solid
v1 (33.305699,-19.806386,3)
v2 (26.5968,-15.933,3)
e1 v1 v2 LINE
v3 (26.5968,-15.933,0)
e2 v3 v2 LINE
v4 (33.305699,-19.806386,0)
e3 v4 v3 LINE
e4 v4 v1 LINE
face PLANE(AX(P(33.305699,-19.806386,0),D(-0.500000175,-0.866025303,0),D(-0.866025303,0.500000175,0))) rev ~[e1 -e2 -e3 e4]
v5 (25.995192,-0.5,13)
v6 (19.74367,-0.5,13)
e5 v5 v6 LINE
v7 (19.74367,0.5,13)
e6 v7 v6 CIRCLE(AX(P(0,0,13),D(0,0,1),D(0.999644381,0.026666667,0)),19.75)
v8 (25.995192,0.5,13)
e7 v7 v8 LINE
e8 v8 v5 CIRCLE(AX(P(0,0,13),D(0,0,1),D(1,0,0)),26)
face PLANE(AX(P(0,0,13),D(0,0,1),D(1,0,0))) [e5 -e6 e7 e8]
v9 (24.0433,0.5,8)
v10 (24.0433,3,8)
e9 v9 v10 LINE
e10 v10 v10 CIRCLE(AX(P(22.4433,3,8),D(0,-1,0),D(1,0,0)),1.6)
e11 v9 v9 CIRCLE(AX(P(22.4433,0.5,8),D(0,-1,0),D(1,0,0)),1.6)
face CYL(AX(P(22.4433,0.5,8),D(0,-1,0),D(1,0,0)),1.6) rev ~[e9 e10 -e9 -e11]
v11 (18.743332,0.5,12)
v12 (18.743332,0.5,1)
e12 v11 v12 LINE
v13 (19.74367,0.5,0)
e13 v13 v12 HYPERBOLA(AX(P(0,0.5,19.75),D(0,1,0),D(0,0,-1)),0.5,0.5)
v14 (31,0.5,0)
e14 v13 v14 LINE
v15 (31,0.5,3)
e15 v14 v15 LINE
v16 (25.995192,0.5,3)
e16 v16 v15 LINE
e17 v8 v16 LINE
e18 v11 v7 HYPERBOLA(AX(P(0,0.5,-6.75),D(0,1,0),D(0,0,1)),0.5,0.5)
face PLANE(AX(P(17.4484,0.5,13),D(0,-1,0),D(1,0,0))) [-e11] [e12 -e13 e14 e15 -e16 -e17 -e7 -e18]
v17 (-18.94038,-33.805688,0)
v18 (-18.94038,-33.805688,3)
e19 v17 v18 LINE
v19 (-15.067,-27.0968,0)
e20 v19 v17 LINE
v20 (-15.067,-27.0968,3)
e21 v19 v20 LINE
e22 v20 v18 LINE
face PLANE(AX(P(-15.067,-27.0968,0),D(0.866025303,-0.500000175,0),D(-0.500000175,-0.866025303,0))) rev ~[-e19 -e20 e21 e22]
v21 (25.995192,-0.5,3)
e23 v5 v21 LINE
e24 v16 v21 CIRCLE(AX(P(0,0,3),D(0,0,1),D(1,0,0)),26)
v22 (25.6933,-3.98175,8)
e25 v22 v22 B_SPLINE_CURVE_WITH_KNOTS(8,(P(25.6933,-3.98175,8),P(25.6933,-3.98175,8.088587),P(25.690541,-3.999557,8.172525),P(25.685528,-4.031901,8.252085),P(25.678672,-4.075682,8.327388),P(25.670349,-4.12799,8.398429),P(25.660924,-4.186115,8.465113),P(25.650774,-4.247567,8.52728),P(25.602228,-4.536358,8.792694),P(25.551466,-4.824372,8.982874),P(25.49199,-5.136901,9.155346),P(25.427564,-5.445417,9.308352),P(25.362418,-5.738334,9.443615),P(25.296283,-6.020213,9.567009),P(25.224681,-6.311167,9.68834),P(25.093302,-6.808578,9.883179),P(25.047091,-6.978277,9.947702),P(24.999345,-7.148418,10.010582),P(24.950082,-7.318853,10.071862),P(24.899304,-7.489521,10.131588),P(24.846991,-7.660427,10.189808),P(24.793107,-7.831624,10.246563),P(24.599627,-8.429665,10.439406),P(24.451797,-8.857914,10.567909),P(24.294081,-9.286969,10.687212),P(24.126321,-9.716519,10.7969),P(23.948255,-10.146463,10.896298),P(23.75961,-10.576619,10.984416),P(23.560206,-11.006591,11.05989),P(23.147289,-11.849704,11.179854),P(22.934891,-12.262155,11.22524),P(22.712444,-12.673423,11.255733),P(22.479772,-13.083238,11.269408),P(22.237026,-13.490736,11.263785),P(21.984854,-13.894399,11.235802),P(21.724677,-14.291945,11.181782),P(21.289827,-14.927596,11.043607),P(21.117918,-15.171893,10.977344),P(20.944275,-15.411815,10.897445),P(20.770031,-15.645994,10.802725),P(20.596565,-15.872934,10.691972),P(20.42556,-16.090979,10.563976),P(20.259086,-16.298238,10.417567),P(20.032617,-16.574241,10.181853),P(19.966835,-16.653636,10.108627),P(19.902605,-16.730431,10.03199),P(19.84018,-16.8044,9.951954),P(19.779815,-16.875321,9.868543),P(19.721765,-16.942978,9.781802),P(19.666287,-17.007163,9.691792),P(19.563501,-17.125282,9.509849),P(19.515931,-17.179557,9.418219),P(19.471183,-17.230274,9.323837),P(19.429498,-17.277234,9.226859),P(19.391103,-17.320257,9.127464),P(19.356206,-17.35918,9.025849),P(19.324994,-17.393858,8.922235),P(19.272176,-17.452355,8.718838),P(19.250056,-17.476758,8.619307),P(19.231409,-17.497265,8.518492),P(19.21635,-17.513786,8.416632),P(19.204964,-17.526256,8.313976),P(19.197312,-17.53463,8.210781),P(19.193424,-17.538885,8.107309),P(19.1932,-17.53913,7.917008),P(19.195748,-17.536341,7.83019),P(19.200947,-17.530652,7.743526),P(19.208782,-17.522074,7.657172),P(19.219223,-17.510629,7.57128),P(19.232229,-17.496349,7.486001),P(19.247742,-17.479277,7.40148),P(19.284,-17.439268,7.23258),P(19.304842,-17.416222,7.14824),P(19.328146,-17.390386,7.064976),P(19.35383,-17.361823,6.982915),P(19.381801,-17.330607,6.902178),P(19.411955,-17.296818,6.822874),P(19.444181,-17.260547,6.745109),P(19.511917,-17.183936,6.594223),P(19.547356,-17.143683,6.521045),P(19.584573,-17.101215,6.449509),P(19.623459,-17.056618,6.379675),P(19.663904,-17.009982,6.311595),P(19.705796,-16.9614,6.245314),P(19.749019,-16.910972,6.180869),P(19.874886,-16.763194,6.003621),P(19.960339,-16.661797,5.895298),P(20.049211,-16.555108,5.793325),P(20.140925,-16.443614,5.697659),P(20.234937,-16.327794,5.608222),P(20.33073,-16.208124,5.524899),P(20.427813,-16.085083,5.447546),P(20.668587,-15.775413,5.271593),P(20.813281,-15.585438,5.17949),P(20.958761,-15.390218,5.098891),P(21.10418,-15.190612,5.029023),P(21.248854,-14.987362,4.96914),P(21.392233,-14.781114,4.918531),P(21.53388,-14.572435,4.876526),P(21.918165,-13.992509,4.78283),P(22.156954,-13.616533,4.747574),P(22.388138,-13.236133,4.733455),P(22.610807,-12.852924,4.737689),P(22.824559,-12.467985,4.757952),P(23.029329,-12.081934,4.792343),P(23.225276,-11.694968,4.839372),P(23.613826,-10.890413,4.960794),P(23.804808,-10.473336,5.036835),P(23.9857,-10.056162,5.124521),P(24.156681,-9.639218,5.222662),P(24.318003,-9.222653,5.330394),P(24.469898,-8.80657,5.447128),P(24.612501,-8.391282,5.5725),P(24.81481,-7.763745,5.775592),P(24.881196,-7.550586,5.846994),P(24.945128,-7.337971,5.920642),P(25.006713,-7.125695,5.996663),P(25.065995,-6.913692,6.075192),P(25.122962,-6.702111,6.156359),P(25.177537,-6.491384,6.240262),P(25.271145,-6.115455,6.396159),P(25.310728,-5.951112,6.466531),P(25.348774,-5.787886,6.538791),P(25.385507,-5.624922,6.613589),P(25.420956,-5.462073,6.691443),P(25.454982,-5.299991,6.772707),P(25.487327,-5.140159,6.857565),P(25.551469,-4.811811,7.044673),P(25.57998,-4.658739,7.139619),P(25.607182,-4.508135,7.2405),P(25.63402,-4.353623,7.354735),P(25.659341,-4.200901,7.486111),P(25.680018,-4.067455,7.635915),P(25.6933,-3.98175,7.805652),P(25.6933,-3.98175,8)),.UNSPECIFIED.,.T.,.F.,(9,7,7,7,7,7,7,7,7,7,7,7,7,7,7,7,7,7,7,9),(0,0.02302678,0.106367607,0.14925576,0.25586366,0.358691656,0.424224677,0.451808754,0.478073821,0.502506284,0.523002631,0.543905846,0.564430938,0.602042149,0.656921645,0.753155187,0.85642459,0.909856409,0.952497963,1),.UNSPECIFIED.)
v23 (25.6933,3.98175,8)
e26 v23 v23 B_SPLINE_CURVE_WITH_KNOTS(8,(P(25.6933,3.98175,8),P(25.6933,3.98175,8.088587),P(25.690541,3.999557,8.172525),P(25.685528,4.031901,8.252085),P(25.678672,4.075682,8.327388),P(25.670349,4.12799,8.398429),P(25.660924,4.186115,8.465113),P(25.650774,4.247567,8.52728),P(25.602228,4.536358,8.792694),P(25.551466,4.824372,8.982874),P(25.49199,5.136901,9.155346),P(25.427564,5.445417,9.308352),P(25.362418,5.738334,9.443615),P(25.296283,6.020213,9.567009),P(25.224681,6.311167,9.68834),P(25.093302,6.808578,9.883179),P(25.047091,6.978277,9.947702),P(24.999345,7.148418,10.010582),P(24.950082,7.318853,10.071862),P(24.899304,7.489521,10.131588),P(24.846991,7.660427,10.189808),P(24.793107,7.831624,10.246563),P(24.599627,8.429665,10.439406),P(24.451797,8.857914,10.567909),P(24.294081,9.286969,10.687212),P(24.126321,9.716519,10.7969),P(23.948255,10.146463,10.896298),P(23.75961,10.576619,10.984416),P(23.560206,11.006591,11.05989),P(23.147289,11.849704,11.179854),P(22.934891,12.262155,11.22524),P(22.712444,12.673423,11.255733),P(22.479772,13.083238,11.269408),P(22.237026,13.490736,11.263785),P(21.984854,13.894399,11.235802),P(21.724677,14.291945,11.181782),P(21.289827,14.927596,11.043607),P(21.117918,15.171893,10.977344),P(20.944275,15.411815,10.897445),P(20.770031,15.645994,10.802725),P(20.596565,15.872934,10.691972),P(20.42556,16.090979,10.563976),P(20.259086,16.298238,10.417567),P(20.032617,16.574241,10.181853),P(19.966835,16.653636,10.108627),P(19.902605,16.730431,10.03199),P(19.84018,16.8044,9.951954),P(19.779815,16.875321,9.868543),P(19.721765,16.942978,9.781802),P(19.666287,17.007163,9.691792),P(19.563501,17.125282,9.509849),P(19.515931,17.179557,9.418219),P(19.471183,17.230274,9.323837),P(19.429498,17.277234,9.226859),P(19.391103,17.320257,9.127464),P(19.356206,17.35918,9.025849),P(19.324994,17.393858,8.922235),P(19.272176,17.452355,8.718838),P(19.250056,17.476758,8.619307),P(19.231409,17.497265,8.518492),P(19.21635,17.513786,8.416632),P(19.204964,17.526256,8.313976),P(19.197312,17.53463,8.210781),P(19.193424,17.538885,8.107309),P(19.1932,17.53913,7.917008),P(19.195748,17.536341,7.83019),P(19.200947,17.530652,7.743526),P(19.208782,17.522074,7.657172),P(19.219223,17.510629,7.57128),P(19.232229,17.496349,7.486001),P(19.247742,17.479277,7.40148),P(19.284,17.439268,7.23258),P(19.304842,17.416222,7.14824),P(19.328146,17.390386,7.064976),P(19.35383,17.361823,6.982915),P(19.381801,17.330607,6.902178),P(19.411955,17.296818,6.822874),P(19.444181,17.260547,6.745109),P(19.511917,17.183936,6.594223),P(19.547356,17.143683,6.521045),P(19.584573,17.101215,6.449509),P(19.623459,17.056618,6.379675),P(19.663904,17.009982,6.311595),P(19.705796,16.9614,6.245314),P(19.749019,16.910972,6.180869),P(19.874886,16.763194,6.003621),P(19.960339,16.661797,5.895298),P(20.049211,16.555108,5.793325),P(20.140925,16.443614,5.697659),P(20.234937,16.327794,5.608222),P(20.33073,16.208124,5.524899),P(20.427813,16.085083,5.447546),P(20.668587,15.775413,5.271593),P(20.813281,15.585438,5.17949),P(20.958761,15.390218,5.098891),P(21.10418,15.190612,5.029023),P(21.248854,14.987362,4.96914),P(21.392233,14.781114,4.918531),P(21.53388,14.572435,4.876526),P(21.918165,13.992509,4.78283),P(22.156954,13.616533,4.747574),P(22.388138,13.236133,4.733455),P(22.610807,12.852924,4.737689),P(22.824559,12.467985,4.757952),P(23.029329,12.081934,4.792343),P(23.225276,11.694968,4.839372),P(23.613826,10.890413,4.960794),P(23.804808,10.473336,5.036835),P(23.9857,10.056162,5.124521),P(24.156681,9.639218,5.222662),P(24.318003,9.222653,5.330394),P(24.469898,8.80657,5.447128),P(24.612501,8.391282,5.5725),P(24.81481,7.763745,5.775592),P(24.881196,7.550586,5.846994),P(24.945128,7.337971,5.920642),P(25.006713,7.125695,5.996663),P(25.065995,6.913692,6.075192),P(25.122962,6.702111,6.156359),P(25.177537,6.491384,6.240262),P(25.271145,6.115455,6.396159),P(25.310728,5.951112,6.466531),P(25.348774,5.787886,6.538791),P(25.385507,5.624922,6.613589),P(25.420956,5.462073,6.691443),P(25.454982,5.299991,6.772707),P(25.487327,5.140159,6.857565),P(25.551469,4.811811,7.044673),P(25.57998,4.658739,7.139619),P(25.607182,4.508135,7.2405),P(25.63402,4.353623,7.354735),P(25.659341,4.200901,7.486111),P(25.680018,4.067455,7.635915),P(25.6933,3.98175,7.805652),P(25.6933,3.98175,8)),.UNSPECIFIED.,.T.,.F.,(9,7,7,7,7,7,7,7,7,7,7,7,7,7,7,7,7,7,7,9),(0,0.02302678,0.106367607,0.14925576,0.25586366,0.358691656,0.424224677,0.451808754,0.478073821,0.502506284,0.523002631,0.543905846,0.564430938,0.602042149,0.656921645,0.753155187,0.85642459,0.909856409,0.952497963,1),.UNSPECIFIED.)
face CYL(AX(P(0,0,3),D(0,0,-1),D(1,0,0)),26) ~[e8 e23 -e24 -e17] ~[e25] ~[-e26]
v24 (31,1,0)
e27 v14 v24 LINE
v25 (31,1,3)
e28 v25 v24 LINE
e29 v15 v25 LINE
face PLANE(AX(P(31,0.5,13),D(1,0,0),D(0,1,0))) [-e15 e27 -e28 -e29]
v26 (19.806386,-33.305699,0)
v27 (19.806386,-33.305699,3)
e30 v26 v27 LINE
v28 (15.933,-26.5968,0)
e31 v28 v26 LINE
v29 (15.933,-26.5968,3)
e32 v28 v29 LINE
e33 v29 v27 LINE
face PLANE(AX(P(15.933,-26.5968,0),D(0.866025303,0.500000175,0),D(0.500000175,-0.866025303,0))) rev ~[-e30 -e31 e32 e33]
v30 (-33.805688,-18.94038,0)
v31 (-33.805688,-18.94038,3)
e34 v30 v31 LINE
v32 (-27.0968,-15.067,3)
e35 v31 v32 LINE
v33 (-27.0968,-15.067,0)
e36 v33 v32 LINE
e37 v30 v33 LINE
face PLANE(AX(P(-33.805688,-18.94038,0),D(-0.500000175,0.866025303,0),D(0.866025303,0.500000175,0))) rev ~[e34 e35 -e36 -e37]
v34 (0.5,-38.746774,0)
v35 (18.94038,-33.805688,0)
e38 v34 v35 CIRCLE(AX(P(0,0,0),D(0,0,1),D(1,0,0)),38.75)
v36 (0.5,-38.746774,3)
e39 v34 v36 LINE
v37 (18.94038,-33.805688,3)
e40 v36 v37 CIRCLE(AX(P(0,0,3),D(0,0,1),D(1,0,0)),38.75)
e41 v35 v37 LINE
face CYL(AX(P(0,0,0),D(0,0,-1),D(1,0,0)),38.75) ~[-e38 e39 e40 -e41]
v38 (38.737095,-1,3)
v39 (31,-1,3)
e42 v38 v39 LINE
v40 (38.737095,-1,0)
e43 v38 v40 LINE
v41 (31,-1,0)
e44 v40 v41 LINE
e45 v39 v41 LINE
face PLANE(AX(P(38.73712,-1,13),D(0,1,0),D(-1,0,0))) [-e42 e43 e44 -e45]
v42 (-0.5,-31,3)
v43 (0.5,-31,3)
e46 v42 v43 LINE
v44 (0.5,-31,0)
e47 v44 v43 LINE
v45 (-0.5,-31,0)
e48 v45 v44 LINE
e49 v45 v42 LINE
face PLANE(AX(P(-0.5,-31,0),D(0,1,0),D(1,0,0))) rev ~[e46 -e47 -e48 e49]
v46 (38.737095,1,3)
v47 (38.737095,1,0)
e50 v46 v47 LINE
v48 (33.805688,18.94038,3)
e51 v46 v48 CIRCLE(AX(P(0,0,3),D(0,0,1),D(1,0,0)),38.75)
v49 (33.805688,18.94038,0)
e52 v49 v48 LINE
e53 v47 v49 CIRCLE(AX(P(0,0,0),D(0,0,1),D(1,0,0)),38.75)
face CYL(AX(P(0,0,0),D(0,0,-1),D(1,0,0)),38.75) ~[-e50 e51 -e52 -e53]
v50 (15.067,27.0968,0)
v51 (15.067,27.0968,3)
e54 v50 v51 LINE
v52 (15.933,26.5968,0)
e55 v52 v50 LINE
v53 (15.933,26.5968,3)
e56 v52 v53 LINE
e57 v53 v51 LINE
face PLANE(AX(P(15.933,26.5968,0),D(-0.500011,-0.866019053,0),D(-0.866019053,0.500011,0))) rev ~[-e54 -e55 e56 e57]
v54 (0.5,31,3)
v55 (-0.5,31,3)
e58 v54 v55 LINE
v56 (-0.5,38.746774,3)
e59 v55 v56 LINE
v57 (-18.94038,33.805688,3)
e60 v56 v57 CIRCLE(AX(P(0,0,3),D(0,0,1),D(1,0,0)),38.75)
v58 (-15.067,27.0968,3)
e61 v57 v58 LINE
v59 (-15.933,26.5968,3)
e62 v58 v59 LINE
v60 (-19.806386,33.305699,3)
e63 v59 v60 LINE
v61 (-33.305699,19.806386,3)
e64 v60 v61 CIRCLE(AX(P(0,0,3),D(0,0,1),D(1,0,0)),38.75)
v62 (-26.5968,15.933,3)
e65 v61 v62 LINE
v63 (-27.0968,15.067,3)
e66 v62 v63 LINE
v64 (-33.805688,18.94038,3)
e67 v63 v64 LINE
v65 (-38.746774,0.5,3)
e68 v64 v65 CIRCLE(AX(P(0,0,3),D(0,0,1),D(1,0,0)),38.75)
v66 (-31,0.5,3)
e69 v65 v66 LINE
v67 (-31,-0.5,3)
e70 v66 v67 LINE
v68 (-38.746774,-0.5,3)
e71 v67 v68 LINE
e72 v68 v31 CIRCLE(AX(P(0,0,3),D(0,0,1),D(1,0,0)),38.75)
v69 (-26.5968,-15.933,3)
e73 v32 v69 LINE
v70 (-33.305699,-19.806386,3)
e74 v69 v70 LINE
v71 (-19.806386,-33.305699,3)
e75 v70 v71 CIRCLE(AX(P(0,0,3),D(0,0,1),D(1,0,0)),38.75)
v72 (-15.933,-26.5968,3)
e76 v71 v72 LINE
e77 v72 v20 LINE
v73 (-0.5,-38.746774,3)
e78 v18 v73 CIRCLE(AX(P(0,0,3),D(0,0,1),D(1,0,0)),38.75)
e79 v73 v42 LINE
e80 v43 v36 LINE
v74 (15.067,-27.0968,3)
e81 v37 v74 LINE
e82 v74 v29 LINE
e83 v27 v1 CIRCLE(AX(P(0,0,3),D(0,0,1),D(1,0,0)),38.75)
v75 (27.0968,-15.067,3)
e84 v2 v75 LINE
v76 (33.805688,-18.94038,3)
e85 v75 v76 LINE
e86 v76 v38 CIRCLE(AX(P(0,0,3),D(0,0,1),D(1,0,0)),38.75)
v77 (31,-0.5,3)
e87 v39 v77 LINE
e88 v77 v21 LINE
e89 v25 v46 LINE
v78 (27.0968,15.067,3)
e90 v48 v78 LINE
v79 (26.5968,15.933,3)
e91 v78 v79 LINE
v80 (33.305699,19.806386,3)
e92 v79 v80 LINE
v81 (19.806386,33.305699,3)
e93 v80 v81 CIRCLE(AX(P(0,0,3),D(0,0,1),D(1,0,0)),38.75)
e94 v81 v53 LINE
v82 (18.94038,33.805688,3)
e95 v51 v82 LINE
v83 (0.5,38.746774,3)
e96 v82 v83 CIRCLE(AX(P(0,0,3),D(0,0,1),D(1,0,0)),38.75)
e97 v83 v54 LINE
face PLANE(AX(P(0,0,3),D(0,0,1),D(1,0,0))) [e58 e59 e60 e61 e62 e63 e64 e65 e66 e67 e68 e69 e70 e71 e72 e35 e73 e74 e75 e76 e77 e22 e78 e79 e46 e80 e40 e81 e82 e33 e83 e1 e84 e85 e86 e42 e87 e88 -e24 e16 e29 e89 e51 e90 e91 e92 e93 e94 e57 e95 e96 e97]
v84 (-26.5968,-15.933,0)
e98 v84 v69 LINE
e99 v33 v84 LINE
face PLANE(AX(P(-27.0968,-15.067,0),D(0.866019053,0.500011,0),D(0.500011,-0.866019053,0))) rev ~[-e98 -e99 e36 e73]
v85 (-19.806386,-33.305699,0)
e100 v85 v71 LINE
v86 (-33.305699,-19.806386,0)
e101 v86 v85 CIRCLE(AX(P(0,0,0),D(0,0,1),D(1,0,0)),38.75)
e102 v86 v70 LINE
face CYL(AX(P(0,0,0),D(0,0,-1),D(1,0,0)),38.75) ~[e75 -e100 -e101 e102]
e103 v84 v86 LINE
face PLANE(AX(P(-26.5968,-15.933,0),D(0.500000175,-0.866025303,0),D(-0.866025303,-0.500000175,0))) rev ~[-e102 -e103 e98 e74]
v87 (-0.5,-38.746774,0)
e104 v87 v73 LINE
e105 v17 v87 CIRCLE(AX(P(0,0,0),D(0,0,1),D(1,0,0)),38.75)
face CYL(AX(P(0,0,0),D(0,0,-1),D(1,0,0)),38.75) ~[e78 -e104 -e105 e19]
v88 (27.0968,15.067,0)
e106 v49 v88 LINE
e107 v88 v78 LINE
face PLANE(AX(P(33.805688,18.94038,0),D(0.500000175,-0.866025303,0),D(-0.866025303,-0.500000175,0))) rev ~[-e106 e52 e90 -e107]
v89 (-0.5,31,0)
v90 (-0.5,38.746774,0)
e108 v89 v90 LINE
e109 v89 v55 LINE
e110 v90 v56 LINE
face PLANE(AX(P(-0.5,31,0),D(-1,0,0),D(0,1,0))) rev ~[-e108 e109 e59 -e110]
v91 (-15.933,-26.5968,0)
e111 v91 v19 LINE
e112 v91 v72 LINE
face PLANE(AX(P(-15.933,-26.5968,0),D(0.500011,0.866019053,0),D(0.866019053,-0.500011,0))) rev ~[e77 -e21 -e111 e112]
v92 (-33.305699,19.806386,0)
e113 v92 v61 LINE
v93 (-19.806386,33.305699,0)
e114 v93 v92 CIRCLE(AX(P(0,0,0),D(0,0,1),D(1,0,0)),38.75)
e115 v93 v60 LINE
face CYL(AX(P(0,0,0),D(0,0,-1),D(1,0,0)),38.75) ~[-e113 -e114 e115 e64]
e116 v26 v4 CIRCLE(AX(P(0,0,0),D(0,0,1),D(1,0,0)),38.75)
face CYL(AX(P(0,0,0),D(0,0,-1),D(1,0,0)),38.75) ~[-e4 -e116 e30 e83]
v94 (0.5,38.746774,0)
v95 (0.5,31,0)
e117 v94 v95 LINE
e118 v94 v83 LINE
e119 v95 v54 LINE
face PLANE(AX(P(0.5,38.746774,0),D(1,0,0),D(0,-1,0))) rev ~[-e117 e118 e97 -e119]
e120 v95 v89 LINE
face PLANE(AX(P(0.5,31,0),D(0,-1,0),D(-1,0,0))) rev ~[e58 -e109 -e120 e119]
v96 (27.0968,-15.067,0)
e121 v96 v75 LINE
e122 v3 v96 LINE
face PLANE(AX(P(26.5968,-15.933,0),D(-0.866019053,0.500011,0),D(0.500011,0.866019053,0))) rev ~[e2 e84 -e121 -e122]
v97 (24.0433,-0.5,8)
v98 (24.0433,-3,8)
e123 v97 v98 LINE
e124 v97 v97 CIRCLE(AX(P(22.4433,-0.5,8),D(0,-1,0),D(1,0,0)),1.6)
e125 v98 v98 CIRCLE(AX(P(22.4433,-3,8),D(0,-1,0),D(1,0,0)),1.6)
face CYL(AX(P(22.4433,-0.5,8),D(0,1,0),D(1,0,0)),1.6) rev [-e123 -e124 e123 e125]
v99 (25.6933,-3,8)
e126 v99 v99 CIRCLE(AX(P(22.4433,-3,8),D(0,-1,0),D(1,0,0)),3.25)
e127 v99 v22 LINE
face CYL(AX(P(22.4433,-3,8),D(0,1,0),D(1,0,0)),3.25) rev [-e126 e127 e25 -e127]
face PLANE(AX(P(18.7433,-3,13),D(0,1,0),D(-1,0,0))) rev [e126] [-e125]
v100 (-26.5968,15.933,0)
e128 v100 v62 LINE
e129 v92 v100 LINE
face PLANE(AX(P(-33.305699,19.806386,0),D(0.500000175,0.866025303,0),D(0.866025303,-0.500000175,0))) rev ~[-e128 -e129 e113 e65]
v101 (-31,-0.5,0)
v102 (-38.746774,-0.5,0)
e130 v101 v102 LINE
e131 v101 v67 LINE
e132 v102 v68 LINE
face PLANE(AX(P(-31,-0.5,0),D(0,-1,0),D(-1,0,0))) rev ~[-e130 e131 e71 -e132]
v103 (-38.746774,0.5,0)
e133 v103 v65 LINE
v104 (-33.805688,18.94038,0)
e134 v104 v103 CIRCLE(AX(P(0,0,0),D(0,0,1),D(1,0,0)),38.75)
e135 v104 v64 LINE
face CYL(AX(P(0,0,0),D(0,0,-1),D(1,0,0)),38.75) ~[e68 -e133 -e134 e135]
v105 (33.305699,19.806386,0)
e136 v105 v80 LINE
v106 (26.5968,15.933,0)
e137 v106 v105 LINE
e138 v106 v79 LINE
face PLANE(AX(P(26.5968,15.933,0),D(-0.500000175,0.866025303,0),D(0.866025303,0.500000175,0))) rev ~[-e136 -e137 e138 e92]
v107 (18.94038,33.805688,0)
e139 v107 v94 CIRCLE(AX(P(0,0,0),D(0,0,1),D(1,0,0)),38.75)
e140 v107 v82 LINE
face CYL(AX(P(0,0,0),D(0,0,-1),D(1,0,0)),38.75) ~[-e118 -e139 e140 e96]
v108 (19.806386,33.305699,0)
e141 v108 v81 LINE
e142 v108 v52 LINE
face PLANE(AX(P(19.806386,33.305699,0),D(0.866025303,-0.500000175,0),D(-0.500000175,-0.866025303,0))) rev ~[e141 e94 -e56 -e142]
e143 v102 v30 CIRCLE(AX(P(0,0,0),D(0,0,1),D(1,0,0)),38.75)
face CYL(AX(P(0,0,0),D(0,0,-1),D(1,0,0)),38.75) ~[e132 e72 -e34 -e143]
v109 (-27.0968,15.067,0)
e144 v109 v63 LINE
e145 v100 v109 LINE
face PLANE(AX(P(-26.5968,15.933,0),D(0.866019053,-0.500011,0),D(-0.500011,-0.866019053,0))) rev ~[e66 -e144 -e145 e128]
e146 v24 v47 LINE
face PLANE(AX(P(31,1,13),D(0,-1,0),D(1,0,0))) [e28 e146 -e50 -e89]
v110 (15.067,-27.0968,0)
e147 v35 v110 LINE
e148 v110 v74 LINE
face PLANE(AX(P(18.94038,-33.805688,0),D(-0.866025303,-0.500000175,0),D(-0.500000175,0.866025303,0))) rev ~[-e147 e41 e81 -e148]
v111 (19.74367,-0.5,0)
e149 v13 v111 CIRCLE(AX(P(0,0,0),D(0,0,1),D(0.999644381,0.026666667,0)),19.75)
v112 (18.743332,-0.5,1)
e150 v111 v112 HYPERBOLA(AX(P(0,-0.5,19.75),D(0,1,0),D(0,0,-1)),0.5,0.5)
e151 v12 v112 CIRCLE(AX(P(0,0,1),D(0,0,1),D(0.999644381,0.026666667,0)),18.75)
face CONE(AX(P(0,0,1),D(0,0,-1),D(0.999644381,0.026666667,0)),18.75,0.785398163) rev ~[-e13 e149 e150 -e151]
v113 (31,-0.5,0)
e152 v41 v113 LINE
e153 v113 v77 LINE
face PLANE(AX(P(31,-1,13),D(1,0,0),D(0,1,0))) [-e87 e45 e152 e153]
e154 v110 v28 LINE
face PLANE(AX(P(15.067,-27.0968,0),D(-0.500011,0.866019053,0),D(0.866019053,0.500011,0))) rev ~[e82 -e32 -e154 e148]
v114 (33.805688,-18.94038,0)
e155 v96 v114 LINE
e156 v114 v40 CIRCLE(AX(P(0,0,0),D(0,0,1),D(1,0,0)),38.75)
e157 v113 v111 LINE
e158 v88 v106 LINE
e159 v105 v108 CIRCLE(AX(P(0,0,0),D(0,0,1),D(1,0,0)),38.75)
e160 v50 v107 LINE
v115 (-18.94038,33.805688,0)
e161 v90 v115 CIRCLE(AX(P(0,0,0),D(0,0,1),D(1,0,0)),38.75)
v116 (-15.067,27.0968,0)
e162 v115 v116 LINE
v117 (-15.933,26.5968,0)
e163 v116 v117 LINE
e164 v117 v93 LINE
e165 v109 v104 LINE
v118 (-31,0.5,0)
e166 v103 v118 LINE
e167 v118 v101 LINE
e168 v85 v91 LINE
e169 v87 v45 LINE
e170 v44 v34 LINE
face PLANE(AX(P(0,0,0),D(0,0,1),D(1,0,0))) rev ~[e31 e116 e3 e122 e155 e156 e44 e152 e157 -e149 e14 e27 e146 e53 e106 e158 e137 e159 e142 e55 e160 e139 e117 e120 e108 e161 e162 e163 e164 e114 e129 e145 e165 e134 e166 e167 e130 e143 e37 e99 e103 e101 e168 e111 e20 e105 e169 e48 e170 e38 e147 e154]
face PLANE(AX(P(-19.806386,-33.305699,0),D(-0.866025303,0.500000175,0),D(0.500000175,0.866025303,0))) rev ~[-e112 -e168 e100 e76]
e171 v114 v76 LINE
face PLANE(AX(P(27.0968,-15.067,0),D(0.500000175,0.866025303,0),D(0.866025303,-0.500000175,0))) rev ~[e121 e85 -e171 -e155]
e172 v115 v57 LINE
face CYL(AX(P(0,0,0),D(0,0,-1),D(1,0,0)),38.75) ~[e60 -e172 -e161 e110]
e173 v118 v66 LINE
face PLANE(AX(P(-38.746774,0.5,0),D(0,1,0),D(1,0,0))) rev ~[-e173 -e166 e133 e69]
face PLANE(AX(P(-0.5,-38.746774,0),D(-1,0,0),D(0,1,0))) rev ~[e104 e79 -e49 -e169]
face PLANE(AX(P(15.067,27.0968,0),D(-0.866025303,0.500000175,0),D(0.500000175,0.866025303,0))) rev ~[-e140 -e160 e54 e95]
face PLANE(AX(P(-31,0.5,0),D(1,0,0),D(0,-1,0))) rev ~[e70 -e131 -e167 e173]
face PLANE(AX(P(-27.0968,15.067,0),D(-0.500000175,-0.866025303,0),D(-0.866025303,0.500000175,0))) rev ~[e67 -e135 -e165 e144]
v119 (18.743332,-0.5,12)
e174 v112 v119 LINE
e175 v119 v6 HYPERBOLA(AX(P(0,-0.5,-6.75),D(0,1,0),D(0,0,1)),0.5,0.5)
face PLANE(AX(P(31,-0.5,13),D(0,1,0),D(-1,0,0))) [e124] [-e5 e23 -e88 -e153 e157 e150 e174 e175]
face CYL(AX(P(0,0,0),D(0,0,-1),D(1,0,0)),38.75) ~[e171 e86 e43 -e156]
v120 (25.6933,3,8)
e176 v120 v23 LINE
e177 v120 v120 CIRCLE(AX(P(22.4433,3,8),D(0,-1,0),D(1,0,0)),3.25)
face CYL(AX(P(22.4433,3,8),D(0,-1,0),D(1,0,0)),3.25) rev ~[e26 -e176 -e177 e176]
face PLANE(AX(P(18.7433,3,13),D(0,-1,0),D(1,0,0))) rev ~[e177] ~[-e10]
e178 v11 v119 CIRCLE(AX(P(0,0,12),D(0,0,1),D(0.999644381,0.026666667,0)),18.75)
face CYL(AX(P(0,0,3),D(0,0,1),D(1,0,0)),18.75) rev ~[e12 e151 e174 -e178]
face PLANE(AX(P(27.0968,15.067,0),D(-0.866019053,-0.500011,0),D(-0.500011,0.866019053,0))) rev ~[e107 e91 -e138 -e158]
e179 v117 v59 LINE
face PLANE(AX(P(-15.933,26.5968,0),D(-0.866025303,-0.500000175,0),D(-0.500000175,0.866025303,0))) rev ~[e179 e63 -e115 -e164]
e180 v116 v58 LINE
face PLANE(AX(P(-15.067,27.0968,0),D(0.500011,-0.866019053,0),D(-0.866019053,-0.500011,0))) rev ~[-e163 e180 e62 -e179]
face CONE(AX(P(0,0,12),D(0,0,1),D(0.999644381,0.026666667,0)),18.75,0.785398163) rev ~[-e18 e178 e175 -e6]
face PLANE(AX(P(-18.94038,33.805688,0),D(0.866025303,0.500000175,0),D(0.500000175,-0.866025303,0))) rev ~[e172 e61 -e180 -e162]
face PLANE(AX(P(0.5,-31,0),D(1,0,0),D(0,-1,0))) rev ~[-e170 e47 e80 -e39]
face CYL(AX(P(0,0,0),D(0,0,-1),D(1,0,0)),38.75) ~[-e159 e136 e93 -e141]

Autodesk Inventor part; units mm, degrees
ref_plane "YZ Plane" through (0, 0, 0) normal (1, 0, 0) x (0, 1, 0)
ref_plane "XZ Plane" through (0, 0, 0) normal (0, 1, 0) x (-1, 0, 0)
sketch "Sketch1" plane through (0, 0, 0) normal (0, 0, 1) x (1, 0, 0)
  circle A0 centre (0, 0) radius 38.75
  line L0 (-0.5, 39) -> (0.5, 39)
  line L1 (0.5, 39) -> (0.5, 31)
  line L2 (0.5, 31) -> (-0.5, 31)
  line L3 (-0.5, 31) -> (-0.5, 39)
  line L4 (-15.933, 26.5968) -> (-19.933, 33.525)
  line L5 (-19.067, 34.025) -> (-15.067, 27.0968)
  line L6 (-15.067, 27.0968) -> (-15.933, 26.5968)
  line L7 (-19.933, 33.525) -> (-19.067, 34.025)
  line L8 (-27.0968, 15.067) -> (-34.025, 19.067)
  line L9 (-33.525, 19.933) -> (-26.5968, 15.933)
  line L10 (-26.5968, 15.933) -> (-27.0968, 15.067)
  line L11 (-34.025, 19.067) -> (-33.525, 19.933)
  line L12 (-31, -0.5) -> (-39, -0.5)
  line L13 (-39, 0.5) -> (-31, 0.5)
  line L14 (-31, 0.5) -> (-31, -0.5)
  line L15 (-39, -0.5) -> (-39, 0.5)
  line L16 (-26.5968, -15.933) -> (-33.525, -19.933)
  line L17 (-34.025, -19.067) -> (-27.0968, -15.067)
  line L18 (-27.0968, -15.067) -> (-26.5968, -15.933)
  line L19 (-33.525, -19.933) -> (-34.025, -19.067)
  line L20 (-15.067, -27.0968) -> (-19.067, -34.025)
  line L21 (-19.933, -33.525) -> (-15.933, -26.5968)
  line L22 (-15.933, -26.5968) -> (-15.067, -27.0968)
  line L23 (-19.067, -34.025) -> (-19.933, -33.525)
  line L24 (0.5, -31) -> (0.5, -39)
  line L25 (-0.5, -39) -> (-0.5, -31)
  line L26 (-0.5, -31) -> (0.5, -31)
  line L27 (0.5, -39) -> (-0.5, -39)
  line L28 (15.933, -26.5968) -> (19.933, -33.525)
  line L29 (19.067, -34.025) -> (15.067, -27.0968)
  line L30 (15.067, -27.0968) -> (15.933, -26.5968)
  line L31 (19.933, -33.525) -> (19.067, -34.025)
  line L32 (27.0968, -15.067) -> (34.025, -19.067)
  line L33 (33.525, -19.933) -> (26.5968, -15.933)
  line L34 (26.5968, -15.933) -> (27.0968, -15.067)
  line L35 (34.025, -19.067) -> (33.525, -19.933)
  line L36 (31, 0.5) -> (39, 0.5)
  line L37 (39, -0.5) -> (31, -0.5)
  line L38 (31, -0.5) -> (31, 0.5)
  line L39 (39, 0.5) -> (39, -0.5)
  line L40 (26.5968, 15.933) -> (33.525, 19.933)
  line L41 (34.025, 19.067) -> (27.0968, 15.067)
  line L42 (27.0968, 15.067) -> (26.5968, 15.933)
  line L43 (33.525, 19.933) -> (34.025, 19.067)
  line L44 (15.067, 27.0968) -> (19.067, 34.025)
  line L45 (19.933, 33.525) -> (15.933, 26.5968)
  line L46 (15.933, 26.5968) -> (15.067, 27.0968)
  line L47 (19.067, 34.025) -> (19.933, 33.525)
  point P0 (0, 31)
  point P1 (-0.5, 38.7468)
  point P2 (0.5, 38.7468)
  point P3 (-15.5, 26.8468)
  point P4 (-26.8468, 15.5)
  point P5 (-31, 0)
  point P6 (-26.8468, -15.5)
  point P7 (-15.5, -26.8468)
  point P8 (0, -31)
  point P9 (15.5, -26.8468)
  point P10 (26.8468, -15.5)
  point P11 (31, 0)
  point P12 (26.8468, 15.5)
  point P13 (15.5, 26.8468)
  point P14 (-18.9404, 33.8057)
  point P15 (-19.8064, 33.3057)
  point P16 (-33.3057, 19.8064)
  point P17 (-33.8057, 18.9404)
  point P18 (-38.7468, 0.5)
  point P19 (-38.7468, -0.5)
  point P20 (-33.8057, -18.9404)
  point P21 (-33.3057, -19.8064)
  point P22 (-19.8064, -33.3057)
  point P23 (-18.9404, -33.8057)
  point P24 (-0.5, -38.7468)
  point P25 (0.5, -38.7468)
  point P26 (18.9404, -33.8057)
  point P27 (19.8064, -33.3057)
  point P28 (33.3057, -19.8064)
  point P29 (33.8057, -18.9404)
  point P30 (38.7468, -0.5)
  point P31 (38.7468, 0.5)
  point P32 (33.8057, 18.9404)
  point P33 (33.3057, 19.8064)
  point P34 (19.8064, 33.3057)
  point P35 (18.9404, 33.8057)
  dimension "d0" = 77.5
  dimension "d1" = 1
  dimension "d2" = 8
  dimension "d3" = 0.5
  dimension "d4" = 31
  dimension "d9" = 360
extrude "Extrusion1" add sketch "Sketch1" along normal blind 3 contours L36 L38 L37 A0 L32 L34 L33 L28 L30 L29 L24 L26 L25 L20 L22 L21 L16 L18 L17 L12 L14 L13 L8 L10 L9 L4 L6 L5 L3 L2 L1 L44 L46 L45 L40 L42 L41
sketch "Sketch2" plane through (0, 0, 3) normal (0, 0, 1) x (1, 0, 0)
  circle A0 centre (0, 0) radius 18.75
  circle A1 centre (0, 0) radius 26
  dimension "d11" = 37.5
  dimension "d12" = 52
extrude "Extrusion2" add sketch "Sketch2" along normal blind 10
sketch "Sketch3" plane through (0, 0, 3) normal (0, 0, 1) x (1, 0, 0)
  circle A0 centre (0, 0) radius 18.75
extrude "Extrusion3" cut sketch "Sketch3" against normal blind 10
sketch "Sketch4" plane through (0, 0, 13) normal (0, 0, 1) x (1, 0, 0)
  arc A0 (33.8057, -18.9404) -> (38.7468, -0.5) centre (0, 0) ccw projected
  line L0 (38.7468, -0.5) -> (17.4484, -0.5)
  line L1 (17.4484, -0.5) -> (17.4484, 0.5)
  line L2 (17.4484, 0.5) -> (38.7468, 0.5)
  line L3 (38.7468, 0.5) -> (38.7468, -0.5)
  line L4 (31, 1) -> (40.0251, 1)
  line L5 (40.0251, 1) -> (40.0251, -1)
  line L6 (40.0251, -1) -> (31, -1)
  line L7 (31, -1) -> (31, 1)
  point P0 (31, -0.5)
  point P1 (31, 0.5)
  dimension "d19" = 2
  dimension "d20" = 0.5
extrude "Extrusion4" cut sketch "Sketch4" against normal through all
sketch "Sketch5" plane through (18.7433, 0.5, 13) normal (0, -1, 0) x (1, 0, 0)
  circle A0 centre (3.7, -5) radius 1.6
  line L0 (14.5624, -10) -> (1.0631, -10) projected
  line L1 (-37.4933, 0) -> (0, 0) projected
  line L2 (0, 0) -> (0, -10)
  point P0 (-18.7433, -13)
  point P1 (0, -5)
  dimension "d21" = 3.2
  dimension "d22" = 5
  dimension "d23" = 3.7
extrude "Extrusion5" cut sketch "Sketch5" against normal blind 23.5
ref_plane "Work Plane1" through (18.7433, 3, 13) normal (0, -1, 0) x (1, 0, 0)
sketch "Sketch6" plane through (18.7433, 3, 13) normal (0, -1, 0) x (1, 0, 0)
  circle A0 centre (3.7, -5) radius 1.6 projected
  circle A1 centre (3.7, -5) radius 3.25
  point P0 (-18.7433, -13)
  dimension "d27" = 6.5
extrude "Extrusion6" cut sketch "Sketch6" against normal blind 23.5
mirror "Mirror1" about plane through (0, 0, 0) normal (0, 1, 0) of "Extrusion6", "Extrusion5"
chamfer "Chamfer1" distance 1 angle 45 2 edges at (-18.75, 0, 13) (-18.75, 0, 0)
properties part number "disk_12_slot"
